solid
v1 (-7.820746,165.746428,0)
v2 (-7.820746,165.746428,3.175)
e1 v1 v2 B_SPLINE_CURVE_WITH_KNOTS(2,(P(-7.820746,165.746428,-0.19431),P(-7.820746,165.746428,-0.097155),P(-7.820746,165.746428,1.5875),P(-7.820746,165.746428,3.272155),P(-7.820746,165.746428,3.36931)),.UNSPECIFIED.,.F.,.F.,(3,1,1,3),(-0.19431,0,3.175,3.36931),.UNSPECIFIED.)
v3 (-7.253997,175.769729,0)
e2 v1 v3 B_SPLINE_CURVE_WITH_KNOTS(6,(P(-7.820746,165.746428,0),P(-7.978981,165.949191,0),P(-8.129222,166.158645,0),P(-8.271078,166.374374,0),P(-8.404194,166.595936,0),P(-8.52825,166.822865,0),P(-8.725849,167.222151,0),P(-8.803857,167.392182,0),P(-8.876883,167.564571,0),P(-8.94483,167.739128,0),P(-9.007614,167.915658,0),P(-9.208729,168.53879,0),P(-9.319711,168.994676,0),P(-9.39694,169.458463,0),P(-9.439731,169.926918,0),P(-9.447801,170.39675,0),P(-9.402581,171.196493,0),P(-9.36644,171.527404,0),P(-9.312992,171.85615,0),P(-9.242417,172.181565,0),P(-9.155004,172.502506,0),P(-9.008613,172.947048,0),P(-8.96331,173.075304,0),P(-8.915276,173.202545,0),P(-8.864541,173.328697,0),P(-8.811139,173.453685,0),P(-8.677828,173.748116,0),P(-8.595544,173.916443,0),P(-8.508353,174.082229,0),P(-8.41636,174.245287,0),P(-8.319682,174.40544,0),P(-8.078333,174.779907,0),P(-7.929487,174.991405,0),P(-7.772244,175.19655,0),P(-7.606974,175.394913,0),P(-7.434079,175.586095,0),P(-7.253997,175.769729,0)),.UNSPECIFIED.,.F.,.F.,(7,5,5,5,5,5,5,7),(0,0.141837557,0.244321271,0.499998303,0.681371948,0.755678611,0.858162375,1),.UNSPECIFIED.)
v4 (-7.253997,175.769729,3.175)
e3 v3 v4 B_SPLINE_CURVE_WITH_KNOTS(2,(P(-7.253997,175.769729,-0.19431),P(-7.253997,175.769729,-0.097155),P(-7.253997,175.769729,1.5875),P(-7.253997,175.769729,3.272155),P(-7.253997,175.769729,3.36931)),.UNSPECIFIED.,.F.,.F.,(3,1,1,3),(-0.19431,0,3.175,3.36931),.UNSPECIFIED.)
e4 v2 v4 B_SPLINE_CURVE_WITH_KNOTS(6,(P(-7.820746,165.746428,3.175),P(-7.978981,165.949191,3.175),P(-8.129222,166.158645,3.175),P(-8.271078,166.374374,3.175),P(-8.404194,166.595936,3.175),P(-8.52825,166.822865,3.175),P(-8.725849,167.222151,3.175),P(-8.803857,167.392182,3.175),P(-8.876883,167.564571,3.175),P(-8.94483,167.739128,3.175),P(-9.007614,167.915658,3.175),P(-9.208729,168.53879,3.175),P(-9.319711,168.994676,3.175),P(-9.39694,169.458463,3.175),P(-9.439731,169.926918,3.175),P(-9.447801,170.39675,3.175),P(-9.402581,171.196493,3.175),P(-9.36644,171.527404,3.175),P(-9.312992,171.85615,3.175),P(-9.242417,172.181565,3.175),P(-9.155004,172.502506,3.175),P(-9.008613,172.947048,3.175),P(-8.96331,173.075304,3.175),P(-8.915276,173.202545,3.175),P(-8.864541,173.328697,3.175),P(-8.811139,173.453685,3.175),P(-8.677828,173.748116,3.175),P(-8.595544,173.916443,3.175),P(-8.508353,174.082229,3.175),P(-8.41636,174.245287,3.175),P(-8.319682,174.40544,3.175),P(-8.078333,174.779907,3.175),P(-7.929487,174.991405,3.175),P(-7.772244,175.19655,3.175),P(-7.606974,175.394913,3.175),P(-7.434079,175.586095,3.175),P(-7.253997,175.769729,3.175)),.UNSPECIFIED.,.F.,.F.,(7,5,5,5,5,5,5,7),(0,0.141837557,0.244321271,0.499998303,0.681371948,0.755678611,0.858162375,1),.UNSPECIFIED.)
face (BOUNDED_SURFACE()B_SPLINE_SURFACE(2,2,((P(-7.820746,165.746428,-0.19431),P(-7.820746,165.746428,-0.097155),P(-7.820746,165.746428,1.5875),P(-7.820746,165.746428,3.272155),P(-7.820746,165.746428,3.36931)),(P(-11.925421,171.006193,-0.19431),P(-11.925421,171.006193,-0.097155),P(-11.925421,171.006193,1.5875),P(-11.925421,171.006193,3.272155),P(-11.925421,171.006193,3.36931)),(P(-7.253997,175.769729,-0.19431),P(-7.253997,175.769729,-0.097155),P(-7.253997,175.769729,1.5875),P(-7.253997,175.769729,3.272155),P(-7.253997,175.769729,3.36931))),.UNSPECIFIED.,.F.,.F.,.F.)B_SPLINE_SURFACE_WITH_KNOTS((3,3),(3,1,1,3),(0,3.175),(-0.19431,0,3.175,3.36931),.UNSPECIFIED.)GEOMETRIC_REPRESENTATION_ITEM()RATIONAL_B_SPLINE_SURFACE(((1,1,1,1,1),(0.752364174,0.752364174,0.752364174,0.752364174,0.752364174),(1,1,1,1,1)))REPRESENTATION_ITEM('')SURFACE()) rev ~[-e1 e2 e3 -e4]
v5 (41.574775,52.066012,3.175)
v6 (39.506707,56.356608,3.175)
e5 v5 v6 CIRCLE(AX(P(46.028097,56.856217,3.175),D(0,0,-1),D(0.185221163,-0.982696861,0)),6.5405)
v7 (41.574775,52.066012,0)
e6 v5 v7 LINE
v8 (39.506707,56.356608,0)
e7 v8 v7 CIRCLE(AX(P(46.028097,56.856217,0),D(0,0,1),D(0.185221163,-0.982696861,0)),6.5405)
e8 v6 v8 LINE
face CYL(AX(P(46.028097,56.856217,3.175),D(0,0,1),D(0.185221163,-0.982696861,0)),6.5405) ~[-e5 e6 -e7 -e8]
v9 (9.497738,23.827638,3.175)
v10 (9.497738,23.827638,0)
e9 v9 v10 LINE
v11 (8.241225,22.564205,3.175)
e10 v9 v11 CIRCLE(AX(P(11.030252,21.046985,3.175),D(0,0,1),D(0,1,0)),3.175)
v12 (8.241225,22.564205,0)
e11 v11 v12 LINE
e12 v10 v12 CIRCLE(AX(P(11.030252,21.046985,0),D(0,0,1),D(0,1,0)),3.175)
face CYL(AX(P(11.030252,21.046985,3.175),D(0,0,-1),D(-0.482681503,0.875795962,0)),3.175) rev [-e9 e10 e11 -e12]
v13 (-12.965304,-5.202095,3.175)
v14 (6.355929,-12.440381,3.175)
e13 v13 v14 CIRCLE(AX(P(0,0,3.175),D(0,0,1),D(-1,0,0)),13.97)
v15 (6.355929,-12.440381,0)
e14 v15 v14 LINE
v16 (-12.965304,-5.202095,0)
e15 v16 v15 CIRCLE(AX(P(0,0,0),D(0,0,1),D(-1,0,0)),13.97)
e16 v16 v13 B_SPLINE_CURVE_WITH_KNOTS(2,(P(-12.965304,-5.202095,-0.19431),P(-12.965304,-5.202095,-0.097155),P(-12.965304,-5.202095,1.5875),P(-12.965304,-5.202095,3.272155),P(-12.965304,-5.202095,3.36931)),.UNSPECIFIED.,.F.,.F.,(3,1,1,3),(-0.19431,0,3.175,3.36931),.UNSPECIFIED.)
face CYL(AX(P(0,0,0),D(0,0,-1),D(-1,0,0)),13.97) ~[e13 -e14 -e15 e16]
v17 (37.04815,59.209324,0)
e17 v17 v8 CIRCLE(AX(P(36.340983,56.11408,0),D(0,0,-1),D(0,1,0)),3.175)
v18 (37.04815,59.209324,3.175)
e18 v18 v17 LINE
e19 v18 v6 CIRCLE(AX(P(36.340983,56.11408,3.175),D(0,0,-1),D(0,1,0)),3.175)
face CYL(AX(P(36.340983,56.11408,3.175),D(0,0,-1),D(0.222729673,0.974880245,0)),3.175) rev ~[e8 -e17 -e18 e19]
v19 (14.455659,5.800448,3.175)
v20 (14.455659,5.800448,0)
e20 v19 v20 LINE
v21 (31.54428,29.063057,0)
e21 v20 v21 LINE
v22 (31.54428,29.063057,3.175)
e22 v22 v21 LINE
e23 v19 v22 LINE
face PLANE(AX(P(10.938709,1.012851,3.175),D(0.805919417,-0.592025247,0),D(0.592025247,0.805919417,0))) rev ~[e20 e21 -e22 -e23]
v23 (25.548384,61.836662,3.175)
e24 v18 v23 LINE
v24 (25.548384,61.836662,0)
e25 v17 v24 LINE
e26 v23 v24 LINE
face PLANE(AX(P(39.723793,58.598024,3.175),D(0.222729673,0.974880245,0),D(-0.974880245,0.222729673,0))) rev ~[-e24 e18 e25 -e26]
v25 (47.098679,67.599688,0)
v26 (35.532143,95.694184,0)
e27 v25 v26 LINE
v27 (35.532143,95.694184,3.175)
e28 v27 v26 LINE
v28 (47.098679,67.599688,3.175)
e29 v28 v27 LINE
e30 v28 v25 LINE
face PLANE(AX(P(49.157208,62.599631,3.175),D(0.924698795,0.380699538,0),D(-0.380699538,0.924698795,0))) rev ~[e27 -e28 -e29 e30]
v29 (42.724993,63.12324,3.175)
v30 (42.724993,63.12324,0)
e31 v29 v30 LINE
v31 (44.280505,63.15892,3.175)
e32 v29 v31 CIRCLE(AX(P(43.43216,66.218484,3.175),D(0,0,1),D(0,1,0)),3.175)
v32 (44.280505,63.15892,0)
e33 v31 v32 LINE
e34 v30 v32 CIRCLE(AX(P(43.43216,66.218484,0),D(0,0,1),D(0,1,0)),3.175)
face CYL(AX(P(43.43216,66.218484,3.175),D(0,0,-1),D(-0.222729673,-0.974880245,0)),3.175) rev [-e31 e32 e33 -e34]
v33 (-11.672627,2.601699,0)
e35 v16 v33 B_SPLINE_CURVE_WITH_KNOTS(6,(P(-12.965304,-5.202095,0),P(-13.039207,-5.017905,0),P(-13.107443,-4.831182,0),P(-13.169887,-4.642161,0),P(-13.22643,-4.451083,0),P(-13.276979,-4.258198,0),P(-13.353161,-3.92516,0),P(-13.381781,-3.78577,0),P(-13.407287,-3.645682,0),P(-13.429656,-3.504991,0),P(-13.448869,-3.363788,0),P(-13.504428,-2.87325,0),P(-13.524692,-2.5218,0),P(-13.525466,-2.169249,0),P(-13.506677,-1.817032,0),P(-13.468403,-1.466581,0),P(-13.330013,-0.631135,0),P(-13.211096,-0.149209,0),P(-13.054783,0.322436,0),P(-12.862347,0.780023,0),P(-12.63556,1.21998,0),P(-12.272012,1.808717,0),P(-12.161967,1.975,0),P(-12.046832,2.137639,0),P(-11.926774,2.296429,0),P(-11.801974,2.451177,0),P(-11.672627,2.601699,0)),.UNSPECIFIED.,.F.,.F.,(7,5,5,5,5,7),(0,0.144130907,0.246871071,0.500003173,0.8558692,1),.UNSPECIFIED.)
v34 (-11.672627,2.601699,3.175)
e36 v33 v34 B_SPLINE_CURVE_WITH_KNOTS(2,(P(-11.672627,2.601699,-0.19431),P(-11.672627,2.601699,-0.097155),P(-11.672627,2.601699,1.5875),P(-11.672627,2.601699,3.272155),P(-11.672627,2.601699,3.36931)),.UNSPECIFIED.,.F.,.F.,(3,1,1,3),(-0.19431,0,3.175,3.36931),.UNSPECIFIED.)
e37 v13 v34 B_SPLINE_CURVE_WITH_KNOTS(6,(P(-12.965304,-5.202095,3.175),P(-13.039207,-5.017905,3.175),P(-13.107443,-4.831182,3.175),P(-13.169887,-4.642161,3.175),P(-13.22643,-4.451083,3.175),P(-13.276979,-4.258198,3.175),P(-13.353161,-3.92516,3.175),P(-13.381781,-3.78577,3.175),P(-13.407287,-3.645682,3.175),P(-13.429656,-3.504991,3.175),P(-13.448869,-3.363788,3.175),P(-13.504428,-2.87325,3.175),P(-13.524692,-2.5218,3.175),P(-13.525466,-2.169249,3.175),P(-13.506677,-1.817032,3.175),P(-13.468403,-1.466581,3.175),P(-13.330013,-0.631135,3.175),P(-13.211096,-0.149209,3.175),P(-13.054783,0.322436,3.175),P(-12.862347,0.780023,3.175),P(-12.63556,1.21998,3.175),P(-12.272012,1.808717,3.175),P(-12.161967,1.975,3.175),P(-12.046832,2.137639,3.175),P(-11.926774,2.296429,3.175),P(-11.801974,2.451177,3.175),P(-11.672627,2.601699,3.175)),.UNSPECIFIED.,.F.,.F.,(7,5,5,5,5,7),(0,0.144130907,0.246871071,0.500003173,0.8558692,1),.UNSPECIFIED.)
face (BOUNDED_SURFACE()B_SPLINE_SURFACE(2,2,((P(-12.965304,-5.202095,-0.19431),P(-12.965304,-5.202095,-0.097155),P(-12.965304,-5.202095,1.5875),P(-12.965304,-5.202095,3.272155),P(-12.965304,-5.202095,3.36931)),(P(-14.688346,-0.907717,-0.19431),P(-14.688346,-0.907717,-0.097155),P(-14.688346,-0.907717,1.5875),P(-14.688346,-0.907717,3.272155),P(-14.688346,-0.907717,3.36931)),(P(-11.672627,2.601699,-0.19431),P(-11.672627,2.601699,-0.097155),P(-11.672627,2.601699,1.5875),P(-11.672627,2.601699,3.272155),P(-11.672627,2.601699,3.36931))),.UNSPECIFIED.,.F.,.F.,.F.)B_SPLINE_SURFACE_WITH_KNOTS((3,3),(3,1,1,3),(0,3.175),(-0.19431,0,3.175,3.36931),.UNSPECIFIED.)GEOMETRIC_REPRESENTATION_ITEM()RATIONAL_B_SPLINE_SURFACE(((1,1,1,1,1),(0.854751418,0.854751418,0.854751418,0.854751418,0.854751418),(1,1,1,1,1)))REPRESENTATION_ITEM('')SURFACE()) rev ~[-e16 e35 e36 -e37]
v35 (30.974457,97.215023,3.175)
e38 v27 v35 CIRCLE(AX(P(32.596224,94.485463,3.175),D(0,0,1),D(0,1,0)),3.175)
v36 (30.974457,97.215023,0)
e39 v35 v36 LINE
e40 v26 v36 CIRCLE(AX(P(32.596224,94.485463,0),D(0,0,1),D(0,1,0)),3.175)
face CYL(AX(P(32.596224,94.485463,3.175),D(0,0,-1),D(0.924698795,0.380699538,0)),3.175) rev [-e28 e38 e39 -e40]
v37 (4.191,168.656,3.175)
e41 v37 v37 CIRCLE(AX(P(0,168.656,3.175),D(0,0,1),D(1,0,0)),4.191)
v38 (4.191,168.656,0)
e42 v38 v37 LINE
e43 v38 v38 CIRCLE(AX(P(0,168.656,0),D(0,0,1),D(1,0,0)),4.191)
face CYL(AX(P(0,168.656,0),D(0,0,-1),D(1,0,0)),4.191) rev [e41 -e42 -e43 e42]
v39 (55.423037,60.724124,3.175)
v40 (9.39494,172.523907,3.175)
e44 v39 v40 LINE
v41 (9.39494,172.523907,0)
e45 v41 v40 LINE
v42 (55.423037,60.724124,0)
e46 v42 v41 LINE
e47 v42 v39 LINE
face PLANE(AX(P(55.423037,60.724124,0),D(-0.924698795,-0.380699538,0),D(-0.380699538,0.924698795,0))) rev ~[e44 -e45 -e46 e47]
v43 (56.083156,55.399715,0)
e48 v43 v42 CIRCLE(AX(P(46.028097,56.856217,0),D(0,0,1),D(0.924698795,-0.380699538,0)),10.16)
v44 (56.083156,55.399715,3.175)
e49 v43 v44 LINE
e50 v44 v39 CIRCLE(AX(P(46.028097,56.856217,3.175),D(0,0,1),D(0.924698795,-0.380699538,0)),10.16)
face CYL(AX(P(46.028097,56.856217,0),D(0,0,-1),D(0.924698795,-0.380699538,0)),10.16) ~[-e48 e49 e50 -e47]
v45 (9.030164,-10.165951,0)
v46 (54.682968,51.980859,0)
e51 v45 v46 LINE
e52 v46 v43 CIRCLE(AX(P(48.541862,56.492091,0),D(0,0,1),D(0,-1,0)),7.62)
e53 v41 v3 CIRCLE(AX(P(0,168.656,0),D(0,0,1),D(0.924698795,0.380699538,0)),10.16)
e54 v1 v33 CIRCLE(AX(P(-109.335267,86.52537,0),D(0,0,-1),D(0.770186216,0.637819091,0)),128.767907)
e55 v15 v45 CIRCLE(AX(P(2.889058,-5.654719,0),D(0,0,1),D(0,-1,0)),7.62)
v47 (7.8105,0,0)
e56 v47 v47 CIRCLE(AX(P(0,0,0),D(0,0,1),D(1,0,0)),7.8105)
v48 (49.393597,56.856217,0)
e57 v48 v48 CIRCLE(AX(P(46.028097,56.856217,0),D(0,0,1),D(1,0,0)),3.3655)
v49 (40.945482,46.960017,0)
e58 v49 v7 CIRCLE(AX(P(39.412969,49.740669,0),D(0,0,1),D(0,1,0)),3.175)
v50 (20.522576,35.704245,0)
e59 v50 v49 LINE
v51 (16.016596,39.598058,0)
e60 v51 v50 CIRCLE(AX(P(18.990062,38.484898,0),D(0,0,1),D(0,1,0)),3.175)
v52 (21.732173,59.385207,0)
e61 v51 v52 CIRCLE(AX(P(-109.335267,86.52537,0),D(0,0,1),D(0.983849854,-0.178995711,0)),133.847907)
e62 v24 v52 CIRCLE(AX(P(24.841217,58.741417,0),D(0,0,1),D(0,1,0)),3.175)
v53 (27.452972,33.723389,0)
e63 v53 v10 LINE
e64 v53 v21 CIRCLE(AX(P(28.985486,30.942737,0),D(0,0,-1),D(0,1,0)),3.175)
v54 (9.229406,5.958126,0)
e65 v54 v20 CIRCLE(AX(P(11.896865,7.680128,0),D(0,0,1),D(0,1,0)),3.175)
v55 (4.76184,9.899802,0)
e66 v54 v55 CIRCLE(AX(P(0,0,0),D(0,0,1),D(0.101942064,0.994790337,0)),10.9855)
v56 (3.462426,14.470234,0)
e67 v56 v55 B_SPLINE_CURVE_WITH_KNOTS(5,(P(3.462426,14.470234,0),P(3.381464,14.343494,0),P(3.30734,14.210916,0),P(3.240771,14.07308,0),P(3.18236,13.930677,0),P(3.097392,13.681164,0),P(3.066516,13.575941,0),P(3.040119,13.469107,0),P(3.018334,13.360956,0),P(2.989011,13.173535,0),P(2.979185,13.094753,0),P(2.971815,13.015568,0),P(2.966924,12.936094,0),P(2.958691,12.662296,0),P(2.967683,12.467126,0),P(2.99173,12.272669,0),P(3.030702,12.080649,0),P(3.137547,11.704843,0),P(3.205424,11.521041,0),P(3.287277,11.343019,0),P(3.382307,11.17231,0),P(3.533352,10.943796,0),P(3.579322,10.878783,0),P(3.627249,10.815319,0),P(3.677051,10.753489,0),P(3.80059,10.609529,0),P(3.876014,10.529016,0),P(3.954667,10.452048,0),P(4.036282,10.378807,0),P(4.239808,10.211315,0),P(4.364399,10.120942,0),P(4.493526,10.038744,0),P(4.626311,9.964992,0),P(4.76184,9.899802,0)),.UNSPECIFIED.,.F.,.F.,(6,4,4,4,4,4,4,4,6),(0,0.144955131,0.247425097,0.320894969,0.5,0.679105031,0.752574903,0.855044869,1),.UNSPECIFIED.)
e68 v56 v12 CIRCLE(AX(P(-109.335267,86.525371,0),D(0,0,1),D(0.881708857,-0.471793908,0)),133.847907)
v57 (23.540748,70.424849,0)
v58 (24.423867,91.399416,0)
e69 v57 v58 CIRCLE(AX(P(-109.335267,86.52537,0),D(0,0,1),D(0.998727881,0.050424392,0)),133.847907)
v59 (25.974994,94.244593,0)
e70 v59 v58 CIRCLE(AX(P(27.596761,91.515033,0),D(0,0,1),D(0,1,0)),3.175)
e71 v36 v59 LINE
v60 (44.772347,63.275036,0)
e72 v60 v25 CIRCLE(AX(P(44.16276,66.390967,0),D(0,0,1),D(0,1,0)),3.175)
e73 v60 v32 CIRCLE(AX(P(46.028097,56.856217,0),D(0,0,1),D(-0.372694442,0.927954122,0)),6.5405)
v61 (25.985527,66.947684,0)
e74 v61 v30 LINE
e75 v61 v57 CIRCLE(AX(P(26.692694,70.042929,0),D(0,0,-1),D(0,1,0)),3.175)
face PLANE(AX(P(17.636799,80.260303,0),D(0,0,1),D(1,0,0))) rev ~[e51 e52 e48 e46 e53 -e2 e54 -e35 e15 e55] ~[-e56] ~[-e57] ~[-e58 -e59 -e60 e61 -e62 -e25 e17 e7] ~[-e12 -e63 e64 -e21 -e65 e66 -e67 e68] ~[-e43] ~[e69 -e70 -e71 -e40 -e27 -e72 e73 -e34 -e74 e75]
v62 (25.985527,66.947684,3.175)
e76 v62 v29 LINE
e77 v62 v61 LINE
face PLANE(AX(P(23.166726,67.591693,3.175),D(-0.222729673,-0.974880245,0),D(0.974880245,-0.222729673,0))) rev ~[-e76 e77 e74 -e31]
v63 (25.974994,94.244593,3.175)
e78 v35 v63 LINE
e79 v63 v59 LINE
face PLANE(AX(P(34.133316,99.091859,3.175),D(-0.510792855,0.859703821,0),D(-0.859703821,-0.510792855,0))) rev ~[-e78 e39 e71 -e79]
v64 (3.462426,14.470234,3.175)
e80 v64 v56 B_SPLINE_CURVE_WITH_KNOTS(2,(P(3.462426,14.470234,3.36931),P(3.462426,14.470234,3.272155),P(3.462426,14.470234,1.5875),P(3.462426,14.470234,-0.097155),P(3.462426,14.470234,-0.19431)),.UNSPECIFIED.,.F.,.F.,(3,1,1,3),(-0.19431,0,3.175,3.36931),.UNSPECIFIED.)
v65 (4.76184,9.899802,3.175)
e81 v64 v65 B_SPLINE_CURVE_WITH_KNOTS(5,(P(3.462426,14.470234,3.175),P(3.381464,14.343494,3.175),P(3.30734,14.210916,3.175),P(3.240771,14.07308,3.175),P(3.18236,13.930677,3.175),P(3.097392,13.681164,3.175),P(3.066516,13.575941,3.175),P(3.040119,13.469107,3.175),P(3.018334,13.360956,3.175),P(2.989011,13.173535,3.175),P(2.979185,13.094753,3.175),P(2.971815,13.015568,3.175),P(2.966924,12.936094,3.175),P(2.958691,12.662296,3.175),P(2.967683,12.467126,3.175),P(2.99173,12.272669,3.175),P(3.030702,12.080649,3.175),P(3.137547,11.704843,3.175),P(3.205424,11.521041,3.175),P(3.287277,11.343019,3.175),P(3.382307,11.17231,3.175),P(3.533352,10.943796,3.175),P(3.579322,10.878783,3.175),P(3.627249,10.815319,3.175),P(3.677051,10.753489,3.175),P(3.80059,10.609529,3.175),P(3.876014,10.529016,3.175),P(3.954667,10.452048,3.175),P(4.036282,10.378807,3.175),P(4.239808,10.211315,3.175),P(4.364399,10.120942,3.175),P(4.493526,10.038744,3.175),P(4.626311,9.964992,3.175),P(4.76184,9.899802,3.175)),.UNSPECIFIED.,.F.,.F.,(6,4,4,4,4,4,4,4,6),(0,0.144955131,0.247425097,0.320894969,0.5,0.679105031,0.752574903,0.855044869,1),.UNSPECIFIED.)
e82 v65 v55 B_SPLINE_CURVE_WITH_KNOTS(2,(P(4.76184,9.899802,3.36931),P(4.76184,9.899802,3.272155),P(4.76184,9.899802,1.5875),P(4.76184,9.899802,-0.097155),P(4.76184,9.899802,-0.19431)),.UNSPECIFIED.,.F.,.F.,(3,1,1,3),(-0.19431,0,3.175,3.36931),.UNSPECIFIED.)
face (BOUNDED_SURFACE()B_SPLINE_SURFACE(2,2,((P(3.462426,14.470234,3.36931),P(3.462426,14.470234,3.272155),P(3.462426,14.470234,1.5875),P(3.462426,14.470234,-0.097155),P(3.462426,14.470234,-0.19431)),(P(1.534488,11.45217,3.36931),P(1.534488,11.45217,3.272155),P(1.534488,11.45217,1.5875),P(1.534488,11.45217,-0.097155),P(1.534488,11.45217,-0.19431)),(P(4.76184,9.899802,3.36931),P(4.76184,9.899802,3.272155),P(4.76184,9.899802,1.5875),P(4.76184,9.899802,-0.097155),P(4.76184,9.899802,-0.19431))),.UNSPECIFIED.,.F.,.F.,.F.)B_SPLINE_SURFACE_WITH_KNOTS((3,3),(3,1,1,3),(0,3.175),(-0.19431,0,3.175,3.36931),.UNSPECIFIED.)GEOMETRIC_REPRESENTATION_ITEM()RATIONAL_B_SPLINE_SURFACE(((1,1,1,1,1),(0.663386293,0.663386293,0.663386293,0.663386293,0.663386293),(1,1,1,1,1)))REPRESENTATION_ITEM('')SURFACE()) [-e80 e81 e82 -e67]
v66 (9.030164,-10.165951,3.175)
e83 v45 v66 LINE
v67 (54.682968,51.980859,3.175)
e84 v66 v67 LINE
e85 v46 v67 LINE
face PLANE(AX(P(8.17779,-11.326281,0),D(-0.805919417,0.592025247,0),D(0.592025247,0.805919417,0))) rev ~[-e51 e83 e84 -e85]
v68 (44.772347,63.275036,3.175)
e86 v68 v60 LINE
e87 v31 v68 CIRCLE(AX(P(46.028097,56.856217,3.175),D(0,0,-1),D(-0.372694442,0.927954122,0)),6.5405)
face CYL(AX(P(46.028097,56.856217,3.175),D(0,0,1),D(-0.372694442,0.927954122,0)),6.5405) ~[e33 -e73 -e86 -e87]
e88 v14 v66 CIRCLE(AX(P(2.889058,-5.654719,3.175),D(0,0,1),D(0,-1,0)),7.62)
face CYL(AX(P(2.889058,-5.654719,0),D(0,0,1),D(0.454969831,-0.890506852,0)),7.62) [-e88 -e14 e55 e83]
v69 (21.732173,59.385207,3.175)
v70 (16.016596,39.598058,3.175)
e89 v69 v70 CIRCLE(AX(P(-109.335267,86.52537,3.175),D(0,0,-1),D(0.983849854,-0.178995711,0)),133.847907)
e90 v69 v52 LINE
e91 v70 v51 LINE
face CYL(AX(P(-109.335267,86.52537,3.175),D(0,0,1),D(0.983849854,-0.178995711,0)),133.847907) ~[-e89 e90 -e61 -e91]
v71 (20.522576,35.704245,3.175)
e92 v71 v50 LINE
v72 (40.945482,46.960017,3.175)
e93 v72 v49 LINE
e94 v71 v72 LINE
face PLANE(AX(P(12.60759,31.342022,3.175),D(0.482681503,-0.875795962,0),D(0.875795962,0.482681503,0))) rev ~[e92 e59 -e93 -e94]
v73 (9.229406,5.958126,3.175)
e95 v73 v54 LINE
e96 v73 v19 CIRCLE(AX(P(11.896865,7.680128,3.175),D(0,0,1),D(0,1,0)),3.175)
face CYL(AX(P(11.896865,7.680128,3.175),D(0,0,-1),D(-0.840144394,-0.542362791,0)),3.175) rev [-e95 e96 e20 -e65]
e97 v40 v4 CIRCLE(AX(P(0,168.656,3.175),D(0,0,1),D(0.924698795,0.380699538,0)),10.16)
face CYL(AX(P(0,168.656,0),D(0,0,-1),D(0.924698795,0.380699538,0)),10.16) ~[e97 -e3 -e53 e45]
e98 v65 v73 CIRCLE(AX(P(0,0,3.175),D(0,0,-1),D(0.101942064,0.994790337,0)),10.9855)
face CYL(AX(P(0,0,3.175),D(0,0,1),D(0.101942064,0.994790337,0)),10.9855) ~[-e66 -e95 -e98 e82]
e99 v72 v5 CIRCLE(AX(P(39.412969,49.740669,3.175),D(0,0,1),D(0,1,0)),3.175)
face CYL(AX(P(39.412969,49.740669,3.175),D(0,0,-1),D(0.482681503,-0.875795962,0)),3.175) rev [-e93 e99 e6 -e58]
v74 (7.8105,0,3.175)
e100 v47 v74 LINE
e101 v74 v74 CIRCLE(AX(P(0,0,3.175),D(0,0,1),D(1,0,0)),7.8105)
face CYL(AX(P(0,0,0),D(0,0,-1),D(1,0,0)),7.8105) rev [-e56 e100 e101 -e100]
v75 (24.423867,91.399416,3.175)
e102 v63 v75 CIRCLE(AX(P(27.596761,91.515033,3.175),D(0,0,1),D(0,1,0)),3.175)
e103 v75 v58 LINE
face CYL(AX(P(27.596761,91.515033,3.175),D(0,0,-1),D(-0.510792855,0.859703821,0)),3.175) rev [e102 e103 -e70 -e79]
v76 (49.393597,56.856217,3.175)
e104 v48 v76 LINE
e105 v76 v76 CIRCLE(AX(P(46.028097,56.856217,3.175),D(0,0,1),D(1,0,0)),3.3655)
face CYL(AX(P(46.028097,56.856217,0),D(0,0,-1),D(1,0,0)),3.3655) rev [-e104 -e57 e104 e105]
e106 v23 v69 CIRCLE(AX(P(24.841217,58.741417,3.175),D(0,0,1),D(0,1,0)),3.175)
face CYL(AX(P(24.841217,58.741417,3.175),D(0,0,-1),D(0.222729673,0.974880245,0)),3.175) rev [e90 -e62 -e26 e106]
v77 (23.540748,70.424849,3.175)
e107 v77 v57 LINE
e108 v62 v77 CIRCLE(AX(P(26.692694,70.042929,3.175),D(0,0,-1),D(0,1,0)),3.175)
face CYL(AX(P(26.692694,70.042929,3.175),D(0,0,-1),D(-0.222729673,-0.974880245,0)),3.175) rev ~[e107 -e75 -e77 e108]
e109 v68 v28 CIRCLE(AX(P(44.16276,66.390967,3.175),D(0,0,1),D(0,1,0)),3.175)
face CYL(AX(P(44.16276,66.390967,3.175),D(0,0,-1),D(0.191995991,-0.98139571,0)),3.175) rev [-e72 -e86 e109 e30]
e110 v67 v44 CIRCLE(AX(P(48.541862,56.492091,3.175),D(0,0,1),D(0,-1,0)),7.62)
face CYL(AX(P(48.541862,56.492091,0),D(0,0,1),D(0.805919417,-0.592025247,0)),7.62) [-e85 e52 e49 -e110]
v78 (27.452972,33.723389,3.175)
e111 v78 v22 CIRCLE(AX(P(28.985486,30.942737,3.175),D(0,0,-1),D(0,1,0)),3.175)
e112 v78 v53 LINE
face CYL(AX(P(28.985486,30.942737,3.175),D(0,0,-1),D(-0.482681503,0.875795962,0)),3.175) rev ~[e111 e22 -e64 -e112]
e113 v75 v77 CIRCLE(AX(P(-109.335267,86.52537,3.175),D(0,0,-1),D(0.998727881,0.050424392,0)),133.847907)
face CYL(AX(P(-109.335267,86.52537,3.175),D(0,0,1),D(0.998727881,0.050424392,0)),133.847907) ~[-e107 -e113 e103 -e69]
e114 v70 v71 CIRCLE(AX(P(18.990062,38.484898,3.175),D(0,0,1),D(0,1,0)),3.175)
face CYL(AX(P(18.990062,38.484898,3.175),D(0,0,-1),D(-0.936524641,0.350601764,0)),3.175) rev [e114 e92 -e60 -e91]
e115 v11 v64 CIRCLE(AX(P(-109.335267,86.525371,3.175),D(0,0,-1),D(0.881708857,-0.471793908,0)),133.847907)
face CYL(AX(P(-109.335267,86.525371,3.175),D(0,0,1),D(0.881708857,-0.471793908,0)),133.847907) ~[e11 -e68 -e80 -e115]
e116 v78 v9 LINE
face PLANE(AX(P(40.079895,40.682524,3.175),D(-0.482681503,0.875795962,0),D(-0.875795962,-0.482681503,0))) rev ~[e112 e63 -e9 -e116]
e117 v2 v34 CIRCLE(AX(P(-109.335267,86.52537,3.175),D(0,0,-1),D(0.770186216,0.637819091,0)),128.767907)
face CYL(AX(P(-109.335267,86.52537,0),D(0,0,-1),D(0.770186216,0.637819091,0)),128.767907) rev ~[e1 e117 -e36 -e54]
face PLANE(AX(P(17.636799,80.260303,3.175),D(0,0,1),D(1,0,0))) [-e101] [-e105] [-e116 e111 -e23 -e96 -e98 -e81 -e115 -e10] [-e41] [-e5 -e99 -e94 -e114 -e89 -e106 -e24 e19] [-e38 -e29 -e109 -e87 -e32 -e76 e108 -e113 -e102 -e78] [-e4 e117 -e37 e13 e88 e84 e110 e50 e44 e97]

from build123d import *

# Parameters (mm, degrees)
SKETCH1_R           = 3.3655
SKETCH1_R_2         = 4.191
SKETCH1_R_3         = 7.8105
BOSS_EXTRUDE1_DEPTH = 3.175
CUT_EXTRUDE1_DEPTH  = 6.35
FILLET5_R           = 7.62
FILLET6_R           = 3.175


with BuildPart() as part:
    # Sketch1 → Boss-Extrude1 (new body)
    with BuildSketch(Plane.XY):
        with BuildLine():
            ThreePointArc((-13.97, 0), (-6.360706327, -12.437938536), (8.177790267, -11.326281223))
            Line((8.177790267, -11.326281223), (55.423036695, 52.988309562))
            ThreePointArc((55.423036695, 52.988309562), (56.188096936, 56.856216867), (55.423036695, 60.724124173))
            Line((55.423036695, 60.724124173), (9.394939759, 172.523907306))
            ThreePointArc((9.394939759, 172.523907306), (-1.971422335, 178.622899918), (-10.16, 168.656))
            ThreePointArc((-10.16, 168.656), (19.399795867, 83.617198889), (-13.97, 0))
        make_face()
        with Locations((46.028096936, 56.856216867)):
            Circle(SKETCH1_R, mode=Mode.SUBTRACT)
        with Locations((0, 168.656)):
            Circle(SKETCH1_R_2, mode=Mode.SUBTRACT)
        Circle(SKETCH1_R_3, mode=Mode.SUBTRACT)
    extrude(amount=BOSS_EXTRUDE1_DEPTH)

    # Sketch2 → Cut-Extrude1 (cut)
    with BuildSketch(Plane.XY.offset(3.175)):
        with BuildLine():
            ThreePointArc((24.342369565, 93.274569778), (24.372628405, 80.404838249), (23.166725616, 67.591692511))
            Line((23.166725616, 67.591692511), (43.590488936, 62.925500803))
            ThreePointArc((43.590488936, 62.925500803), (46.410316451, 63.385539075), (49.157207608, 62.599631066))
            Line((49.157207608, 62.599631066), (34.133316244, 99.091858815))
            Line((34.133316244, 99.091858815), (24.342369565, 93.274569778))
        make_face()
        with BuildLine():
            Line((39.723792881, 58.598023584), (22.350976776, 62.56716919))
            ThreePointArc((22.350976776, 62.56716919), (18.436727595, 46.655838158), (12.607589722, 31.342022385))
            Line((12.607589722, 31.342022385), (47.239535948, 50.428888047))
            ThreePointArc((47.239535948, 50.428888047), (41.214780777, 52.427884471), (39.723792881, 58.598023584))
        make_face()
        with BuildLine():
            Line((40.079895195, 40.682524127), (8.679618073, 23.376743294))
            ThreePointArc((8.679618073, 23.376743294), (5.069193292, 17.049607217), (1.119884547, 10.928269252))
            ThreePointArc((1.119884547, 10.928269252), (7.805850235, 7.729806748), (10.938708503, 1.012850693))
            Line((10.938708503, 1.012850693), (40.079895195, 40.682524127))
        make_face()
    extrude(amount=-CUT_EXTRUDE1_DEPTH, mode=Mode.SUBTRACT)

    # Fillet5
    fillet5_edges = [part.edges().sort_by_distance(p)[0] for p in [
        (-13.97, 0, 1.5875),
        (-10.16, 168.656, 1.5875),
        (55.423036695, 52.988309562, 1.5875),
        (8.177790267, -11.326281223, 1.5875),
    ]]
    fillet(fillet5_edges, radius=FILLET5_R)

    # Fillet6
    fillet6_edges = [part.edges().sort_by_distance(p)[0] for p in [
        (10.938708503, 1.012850693, 1.5875),
        (1.119884547, 10.928269252, 1.5875),
        (8.679618073, 23.376743294, 1.5875),
        (40.079895195, 40.682524127, 1.5875),
        (47.239535948, 50.428888047, 1.5875),
        (12.607589722, 31.342022385, 1.5875),
        (22.350976776, 62.56716919, 1.5875),
        (39.723792881, 58.598023584, 1.5875),
        (49.157207608, 62.599631066, 1.5875),
        (43.590488936, 62.925500803, 1.5875),
        (23.166725616, 67.591692511, 1.5875),
        (24.342369565, 93.274569778, 1.5875),
        (34.133316244, 99.091858815, 1.5875),
    ]]
    fillet(fillet6_edges, radius=FILLET6_R)


solid = part.part
